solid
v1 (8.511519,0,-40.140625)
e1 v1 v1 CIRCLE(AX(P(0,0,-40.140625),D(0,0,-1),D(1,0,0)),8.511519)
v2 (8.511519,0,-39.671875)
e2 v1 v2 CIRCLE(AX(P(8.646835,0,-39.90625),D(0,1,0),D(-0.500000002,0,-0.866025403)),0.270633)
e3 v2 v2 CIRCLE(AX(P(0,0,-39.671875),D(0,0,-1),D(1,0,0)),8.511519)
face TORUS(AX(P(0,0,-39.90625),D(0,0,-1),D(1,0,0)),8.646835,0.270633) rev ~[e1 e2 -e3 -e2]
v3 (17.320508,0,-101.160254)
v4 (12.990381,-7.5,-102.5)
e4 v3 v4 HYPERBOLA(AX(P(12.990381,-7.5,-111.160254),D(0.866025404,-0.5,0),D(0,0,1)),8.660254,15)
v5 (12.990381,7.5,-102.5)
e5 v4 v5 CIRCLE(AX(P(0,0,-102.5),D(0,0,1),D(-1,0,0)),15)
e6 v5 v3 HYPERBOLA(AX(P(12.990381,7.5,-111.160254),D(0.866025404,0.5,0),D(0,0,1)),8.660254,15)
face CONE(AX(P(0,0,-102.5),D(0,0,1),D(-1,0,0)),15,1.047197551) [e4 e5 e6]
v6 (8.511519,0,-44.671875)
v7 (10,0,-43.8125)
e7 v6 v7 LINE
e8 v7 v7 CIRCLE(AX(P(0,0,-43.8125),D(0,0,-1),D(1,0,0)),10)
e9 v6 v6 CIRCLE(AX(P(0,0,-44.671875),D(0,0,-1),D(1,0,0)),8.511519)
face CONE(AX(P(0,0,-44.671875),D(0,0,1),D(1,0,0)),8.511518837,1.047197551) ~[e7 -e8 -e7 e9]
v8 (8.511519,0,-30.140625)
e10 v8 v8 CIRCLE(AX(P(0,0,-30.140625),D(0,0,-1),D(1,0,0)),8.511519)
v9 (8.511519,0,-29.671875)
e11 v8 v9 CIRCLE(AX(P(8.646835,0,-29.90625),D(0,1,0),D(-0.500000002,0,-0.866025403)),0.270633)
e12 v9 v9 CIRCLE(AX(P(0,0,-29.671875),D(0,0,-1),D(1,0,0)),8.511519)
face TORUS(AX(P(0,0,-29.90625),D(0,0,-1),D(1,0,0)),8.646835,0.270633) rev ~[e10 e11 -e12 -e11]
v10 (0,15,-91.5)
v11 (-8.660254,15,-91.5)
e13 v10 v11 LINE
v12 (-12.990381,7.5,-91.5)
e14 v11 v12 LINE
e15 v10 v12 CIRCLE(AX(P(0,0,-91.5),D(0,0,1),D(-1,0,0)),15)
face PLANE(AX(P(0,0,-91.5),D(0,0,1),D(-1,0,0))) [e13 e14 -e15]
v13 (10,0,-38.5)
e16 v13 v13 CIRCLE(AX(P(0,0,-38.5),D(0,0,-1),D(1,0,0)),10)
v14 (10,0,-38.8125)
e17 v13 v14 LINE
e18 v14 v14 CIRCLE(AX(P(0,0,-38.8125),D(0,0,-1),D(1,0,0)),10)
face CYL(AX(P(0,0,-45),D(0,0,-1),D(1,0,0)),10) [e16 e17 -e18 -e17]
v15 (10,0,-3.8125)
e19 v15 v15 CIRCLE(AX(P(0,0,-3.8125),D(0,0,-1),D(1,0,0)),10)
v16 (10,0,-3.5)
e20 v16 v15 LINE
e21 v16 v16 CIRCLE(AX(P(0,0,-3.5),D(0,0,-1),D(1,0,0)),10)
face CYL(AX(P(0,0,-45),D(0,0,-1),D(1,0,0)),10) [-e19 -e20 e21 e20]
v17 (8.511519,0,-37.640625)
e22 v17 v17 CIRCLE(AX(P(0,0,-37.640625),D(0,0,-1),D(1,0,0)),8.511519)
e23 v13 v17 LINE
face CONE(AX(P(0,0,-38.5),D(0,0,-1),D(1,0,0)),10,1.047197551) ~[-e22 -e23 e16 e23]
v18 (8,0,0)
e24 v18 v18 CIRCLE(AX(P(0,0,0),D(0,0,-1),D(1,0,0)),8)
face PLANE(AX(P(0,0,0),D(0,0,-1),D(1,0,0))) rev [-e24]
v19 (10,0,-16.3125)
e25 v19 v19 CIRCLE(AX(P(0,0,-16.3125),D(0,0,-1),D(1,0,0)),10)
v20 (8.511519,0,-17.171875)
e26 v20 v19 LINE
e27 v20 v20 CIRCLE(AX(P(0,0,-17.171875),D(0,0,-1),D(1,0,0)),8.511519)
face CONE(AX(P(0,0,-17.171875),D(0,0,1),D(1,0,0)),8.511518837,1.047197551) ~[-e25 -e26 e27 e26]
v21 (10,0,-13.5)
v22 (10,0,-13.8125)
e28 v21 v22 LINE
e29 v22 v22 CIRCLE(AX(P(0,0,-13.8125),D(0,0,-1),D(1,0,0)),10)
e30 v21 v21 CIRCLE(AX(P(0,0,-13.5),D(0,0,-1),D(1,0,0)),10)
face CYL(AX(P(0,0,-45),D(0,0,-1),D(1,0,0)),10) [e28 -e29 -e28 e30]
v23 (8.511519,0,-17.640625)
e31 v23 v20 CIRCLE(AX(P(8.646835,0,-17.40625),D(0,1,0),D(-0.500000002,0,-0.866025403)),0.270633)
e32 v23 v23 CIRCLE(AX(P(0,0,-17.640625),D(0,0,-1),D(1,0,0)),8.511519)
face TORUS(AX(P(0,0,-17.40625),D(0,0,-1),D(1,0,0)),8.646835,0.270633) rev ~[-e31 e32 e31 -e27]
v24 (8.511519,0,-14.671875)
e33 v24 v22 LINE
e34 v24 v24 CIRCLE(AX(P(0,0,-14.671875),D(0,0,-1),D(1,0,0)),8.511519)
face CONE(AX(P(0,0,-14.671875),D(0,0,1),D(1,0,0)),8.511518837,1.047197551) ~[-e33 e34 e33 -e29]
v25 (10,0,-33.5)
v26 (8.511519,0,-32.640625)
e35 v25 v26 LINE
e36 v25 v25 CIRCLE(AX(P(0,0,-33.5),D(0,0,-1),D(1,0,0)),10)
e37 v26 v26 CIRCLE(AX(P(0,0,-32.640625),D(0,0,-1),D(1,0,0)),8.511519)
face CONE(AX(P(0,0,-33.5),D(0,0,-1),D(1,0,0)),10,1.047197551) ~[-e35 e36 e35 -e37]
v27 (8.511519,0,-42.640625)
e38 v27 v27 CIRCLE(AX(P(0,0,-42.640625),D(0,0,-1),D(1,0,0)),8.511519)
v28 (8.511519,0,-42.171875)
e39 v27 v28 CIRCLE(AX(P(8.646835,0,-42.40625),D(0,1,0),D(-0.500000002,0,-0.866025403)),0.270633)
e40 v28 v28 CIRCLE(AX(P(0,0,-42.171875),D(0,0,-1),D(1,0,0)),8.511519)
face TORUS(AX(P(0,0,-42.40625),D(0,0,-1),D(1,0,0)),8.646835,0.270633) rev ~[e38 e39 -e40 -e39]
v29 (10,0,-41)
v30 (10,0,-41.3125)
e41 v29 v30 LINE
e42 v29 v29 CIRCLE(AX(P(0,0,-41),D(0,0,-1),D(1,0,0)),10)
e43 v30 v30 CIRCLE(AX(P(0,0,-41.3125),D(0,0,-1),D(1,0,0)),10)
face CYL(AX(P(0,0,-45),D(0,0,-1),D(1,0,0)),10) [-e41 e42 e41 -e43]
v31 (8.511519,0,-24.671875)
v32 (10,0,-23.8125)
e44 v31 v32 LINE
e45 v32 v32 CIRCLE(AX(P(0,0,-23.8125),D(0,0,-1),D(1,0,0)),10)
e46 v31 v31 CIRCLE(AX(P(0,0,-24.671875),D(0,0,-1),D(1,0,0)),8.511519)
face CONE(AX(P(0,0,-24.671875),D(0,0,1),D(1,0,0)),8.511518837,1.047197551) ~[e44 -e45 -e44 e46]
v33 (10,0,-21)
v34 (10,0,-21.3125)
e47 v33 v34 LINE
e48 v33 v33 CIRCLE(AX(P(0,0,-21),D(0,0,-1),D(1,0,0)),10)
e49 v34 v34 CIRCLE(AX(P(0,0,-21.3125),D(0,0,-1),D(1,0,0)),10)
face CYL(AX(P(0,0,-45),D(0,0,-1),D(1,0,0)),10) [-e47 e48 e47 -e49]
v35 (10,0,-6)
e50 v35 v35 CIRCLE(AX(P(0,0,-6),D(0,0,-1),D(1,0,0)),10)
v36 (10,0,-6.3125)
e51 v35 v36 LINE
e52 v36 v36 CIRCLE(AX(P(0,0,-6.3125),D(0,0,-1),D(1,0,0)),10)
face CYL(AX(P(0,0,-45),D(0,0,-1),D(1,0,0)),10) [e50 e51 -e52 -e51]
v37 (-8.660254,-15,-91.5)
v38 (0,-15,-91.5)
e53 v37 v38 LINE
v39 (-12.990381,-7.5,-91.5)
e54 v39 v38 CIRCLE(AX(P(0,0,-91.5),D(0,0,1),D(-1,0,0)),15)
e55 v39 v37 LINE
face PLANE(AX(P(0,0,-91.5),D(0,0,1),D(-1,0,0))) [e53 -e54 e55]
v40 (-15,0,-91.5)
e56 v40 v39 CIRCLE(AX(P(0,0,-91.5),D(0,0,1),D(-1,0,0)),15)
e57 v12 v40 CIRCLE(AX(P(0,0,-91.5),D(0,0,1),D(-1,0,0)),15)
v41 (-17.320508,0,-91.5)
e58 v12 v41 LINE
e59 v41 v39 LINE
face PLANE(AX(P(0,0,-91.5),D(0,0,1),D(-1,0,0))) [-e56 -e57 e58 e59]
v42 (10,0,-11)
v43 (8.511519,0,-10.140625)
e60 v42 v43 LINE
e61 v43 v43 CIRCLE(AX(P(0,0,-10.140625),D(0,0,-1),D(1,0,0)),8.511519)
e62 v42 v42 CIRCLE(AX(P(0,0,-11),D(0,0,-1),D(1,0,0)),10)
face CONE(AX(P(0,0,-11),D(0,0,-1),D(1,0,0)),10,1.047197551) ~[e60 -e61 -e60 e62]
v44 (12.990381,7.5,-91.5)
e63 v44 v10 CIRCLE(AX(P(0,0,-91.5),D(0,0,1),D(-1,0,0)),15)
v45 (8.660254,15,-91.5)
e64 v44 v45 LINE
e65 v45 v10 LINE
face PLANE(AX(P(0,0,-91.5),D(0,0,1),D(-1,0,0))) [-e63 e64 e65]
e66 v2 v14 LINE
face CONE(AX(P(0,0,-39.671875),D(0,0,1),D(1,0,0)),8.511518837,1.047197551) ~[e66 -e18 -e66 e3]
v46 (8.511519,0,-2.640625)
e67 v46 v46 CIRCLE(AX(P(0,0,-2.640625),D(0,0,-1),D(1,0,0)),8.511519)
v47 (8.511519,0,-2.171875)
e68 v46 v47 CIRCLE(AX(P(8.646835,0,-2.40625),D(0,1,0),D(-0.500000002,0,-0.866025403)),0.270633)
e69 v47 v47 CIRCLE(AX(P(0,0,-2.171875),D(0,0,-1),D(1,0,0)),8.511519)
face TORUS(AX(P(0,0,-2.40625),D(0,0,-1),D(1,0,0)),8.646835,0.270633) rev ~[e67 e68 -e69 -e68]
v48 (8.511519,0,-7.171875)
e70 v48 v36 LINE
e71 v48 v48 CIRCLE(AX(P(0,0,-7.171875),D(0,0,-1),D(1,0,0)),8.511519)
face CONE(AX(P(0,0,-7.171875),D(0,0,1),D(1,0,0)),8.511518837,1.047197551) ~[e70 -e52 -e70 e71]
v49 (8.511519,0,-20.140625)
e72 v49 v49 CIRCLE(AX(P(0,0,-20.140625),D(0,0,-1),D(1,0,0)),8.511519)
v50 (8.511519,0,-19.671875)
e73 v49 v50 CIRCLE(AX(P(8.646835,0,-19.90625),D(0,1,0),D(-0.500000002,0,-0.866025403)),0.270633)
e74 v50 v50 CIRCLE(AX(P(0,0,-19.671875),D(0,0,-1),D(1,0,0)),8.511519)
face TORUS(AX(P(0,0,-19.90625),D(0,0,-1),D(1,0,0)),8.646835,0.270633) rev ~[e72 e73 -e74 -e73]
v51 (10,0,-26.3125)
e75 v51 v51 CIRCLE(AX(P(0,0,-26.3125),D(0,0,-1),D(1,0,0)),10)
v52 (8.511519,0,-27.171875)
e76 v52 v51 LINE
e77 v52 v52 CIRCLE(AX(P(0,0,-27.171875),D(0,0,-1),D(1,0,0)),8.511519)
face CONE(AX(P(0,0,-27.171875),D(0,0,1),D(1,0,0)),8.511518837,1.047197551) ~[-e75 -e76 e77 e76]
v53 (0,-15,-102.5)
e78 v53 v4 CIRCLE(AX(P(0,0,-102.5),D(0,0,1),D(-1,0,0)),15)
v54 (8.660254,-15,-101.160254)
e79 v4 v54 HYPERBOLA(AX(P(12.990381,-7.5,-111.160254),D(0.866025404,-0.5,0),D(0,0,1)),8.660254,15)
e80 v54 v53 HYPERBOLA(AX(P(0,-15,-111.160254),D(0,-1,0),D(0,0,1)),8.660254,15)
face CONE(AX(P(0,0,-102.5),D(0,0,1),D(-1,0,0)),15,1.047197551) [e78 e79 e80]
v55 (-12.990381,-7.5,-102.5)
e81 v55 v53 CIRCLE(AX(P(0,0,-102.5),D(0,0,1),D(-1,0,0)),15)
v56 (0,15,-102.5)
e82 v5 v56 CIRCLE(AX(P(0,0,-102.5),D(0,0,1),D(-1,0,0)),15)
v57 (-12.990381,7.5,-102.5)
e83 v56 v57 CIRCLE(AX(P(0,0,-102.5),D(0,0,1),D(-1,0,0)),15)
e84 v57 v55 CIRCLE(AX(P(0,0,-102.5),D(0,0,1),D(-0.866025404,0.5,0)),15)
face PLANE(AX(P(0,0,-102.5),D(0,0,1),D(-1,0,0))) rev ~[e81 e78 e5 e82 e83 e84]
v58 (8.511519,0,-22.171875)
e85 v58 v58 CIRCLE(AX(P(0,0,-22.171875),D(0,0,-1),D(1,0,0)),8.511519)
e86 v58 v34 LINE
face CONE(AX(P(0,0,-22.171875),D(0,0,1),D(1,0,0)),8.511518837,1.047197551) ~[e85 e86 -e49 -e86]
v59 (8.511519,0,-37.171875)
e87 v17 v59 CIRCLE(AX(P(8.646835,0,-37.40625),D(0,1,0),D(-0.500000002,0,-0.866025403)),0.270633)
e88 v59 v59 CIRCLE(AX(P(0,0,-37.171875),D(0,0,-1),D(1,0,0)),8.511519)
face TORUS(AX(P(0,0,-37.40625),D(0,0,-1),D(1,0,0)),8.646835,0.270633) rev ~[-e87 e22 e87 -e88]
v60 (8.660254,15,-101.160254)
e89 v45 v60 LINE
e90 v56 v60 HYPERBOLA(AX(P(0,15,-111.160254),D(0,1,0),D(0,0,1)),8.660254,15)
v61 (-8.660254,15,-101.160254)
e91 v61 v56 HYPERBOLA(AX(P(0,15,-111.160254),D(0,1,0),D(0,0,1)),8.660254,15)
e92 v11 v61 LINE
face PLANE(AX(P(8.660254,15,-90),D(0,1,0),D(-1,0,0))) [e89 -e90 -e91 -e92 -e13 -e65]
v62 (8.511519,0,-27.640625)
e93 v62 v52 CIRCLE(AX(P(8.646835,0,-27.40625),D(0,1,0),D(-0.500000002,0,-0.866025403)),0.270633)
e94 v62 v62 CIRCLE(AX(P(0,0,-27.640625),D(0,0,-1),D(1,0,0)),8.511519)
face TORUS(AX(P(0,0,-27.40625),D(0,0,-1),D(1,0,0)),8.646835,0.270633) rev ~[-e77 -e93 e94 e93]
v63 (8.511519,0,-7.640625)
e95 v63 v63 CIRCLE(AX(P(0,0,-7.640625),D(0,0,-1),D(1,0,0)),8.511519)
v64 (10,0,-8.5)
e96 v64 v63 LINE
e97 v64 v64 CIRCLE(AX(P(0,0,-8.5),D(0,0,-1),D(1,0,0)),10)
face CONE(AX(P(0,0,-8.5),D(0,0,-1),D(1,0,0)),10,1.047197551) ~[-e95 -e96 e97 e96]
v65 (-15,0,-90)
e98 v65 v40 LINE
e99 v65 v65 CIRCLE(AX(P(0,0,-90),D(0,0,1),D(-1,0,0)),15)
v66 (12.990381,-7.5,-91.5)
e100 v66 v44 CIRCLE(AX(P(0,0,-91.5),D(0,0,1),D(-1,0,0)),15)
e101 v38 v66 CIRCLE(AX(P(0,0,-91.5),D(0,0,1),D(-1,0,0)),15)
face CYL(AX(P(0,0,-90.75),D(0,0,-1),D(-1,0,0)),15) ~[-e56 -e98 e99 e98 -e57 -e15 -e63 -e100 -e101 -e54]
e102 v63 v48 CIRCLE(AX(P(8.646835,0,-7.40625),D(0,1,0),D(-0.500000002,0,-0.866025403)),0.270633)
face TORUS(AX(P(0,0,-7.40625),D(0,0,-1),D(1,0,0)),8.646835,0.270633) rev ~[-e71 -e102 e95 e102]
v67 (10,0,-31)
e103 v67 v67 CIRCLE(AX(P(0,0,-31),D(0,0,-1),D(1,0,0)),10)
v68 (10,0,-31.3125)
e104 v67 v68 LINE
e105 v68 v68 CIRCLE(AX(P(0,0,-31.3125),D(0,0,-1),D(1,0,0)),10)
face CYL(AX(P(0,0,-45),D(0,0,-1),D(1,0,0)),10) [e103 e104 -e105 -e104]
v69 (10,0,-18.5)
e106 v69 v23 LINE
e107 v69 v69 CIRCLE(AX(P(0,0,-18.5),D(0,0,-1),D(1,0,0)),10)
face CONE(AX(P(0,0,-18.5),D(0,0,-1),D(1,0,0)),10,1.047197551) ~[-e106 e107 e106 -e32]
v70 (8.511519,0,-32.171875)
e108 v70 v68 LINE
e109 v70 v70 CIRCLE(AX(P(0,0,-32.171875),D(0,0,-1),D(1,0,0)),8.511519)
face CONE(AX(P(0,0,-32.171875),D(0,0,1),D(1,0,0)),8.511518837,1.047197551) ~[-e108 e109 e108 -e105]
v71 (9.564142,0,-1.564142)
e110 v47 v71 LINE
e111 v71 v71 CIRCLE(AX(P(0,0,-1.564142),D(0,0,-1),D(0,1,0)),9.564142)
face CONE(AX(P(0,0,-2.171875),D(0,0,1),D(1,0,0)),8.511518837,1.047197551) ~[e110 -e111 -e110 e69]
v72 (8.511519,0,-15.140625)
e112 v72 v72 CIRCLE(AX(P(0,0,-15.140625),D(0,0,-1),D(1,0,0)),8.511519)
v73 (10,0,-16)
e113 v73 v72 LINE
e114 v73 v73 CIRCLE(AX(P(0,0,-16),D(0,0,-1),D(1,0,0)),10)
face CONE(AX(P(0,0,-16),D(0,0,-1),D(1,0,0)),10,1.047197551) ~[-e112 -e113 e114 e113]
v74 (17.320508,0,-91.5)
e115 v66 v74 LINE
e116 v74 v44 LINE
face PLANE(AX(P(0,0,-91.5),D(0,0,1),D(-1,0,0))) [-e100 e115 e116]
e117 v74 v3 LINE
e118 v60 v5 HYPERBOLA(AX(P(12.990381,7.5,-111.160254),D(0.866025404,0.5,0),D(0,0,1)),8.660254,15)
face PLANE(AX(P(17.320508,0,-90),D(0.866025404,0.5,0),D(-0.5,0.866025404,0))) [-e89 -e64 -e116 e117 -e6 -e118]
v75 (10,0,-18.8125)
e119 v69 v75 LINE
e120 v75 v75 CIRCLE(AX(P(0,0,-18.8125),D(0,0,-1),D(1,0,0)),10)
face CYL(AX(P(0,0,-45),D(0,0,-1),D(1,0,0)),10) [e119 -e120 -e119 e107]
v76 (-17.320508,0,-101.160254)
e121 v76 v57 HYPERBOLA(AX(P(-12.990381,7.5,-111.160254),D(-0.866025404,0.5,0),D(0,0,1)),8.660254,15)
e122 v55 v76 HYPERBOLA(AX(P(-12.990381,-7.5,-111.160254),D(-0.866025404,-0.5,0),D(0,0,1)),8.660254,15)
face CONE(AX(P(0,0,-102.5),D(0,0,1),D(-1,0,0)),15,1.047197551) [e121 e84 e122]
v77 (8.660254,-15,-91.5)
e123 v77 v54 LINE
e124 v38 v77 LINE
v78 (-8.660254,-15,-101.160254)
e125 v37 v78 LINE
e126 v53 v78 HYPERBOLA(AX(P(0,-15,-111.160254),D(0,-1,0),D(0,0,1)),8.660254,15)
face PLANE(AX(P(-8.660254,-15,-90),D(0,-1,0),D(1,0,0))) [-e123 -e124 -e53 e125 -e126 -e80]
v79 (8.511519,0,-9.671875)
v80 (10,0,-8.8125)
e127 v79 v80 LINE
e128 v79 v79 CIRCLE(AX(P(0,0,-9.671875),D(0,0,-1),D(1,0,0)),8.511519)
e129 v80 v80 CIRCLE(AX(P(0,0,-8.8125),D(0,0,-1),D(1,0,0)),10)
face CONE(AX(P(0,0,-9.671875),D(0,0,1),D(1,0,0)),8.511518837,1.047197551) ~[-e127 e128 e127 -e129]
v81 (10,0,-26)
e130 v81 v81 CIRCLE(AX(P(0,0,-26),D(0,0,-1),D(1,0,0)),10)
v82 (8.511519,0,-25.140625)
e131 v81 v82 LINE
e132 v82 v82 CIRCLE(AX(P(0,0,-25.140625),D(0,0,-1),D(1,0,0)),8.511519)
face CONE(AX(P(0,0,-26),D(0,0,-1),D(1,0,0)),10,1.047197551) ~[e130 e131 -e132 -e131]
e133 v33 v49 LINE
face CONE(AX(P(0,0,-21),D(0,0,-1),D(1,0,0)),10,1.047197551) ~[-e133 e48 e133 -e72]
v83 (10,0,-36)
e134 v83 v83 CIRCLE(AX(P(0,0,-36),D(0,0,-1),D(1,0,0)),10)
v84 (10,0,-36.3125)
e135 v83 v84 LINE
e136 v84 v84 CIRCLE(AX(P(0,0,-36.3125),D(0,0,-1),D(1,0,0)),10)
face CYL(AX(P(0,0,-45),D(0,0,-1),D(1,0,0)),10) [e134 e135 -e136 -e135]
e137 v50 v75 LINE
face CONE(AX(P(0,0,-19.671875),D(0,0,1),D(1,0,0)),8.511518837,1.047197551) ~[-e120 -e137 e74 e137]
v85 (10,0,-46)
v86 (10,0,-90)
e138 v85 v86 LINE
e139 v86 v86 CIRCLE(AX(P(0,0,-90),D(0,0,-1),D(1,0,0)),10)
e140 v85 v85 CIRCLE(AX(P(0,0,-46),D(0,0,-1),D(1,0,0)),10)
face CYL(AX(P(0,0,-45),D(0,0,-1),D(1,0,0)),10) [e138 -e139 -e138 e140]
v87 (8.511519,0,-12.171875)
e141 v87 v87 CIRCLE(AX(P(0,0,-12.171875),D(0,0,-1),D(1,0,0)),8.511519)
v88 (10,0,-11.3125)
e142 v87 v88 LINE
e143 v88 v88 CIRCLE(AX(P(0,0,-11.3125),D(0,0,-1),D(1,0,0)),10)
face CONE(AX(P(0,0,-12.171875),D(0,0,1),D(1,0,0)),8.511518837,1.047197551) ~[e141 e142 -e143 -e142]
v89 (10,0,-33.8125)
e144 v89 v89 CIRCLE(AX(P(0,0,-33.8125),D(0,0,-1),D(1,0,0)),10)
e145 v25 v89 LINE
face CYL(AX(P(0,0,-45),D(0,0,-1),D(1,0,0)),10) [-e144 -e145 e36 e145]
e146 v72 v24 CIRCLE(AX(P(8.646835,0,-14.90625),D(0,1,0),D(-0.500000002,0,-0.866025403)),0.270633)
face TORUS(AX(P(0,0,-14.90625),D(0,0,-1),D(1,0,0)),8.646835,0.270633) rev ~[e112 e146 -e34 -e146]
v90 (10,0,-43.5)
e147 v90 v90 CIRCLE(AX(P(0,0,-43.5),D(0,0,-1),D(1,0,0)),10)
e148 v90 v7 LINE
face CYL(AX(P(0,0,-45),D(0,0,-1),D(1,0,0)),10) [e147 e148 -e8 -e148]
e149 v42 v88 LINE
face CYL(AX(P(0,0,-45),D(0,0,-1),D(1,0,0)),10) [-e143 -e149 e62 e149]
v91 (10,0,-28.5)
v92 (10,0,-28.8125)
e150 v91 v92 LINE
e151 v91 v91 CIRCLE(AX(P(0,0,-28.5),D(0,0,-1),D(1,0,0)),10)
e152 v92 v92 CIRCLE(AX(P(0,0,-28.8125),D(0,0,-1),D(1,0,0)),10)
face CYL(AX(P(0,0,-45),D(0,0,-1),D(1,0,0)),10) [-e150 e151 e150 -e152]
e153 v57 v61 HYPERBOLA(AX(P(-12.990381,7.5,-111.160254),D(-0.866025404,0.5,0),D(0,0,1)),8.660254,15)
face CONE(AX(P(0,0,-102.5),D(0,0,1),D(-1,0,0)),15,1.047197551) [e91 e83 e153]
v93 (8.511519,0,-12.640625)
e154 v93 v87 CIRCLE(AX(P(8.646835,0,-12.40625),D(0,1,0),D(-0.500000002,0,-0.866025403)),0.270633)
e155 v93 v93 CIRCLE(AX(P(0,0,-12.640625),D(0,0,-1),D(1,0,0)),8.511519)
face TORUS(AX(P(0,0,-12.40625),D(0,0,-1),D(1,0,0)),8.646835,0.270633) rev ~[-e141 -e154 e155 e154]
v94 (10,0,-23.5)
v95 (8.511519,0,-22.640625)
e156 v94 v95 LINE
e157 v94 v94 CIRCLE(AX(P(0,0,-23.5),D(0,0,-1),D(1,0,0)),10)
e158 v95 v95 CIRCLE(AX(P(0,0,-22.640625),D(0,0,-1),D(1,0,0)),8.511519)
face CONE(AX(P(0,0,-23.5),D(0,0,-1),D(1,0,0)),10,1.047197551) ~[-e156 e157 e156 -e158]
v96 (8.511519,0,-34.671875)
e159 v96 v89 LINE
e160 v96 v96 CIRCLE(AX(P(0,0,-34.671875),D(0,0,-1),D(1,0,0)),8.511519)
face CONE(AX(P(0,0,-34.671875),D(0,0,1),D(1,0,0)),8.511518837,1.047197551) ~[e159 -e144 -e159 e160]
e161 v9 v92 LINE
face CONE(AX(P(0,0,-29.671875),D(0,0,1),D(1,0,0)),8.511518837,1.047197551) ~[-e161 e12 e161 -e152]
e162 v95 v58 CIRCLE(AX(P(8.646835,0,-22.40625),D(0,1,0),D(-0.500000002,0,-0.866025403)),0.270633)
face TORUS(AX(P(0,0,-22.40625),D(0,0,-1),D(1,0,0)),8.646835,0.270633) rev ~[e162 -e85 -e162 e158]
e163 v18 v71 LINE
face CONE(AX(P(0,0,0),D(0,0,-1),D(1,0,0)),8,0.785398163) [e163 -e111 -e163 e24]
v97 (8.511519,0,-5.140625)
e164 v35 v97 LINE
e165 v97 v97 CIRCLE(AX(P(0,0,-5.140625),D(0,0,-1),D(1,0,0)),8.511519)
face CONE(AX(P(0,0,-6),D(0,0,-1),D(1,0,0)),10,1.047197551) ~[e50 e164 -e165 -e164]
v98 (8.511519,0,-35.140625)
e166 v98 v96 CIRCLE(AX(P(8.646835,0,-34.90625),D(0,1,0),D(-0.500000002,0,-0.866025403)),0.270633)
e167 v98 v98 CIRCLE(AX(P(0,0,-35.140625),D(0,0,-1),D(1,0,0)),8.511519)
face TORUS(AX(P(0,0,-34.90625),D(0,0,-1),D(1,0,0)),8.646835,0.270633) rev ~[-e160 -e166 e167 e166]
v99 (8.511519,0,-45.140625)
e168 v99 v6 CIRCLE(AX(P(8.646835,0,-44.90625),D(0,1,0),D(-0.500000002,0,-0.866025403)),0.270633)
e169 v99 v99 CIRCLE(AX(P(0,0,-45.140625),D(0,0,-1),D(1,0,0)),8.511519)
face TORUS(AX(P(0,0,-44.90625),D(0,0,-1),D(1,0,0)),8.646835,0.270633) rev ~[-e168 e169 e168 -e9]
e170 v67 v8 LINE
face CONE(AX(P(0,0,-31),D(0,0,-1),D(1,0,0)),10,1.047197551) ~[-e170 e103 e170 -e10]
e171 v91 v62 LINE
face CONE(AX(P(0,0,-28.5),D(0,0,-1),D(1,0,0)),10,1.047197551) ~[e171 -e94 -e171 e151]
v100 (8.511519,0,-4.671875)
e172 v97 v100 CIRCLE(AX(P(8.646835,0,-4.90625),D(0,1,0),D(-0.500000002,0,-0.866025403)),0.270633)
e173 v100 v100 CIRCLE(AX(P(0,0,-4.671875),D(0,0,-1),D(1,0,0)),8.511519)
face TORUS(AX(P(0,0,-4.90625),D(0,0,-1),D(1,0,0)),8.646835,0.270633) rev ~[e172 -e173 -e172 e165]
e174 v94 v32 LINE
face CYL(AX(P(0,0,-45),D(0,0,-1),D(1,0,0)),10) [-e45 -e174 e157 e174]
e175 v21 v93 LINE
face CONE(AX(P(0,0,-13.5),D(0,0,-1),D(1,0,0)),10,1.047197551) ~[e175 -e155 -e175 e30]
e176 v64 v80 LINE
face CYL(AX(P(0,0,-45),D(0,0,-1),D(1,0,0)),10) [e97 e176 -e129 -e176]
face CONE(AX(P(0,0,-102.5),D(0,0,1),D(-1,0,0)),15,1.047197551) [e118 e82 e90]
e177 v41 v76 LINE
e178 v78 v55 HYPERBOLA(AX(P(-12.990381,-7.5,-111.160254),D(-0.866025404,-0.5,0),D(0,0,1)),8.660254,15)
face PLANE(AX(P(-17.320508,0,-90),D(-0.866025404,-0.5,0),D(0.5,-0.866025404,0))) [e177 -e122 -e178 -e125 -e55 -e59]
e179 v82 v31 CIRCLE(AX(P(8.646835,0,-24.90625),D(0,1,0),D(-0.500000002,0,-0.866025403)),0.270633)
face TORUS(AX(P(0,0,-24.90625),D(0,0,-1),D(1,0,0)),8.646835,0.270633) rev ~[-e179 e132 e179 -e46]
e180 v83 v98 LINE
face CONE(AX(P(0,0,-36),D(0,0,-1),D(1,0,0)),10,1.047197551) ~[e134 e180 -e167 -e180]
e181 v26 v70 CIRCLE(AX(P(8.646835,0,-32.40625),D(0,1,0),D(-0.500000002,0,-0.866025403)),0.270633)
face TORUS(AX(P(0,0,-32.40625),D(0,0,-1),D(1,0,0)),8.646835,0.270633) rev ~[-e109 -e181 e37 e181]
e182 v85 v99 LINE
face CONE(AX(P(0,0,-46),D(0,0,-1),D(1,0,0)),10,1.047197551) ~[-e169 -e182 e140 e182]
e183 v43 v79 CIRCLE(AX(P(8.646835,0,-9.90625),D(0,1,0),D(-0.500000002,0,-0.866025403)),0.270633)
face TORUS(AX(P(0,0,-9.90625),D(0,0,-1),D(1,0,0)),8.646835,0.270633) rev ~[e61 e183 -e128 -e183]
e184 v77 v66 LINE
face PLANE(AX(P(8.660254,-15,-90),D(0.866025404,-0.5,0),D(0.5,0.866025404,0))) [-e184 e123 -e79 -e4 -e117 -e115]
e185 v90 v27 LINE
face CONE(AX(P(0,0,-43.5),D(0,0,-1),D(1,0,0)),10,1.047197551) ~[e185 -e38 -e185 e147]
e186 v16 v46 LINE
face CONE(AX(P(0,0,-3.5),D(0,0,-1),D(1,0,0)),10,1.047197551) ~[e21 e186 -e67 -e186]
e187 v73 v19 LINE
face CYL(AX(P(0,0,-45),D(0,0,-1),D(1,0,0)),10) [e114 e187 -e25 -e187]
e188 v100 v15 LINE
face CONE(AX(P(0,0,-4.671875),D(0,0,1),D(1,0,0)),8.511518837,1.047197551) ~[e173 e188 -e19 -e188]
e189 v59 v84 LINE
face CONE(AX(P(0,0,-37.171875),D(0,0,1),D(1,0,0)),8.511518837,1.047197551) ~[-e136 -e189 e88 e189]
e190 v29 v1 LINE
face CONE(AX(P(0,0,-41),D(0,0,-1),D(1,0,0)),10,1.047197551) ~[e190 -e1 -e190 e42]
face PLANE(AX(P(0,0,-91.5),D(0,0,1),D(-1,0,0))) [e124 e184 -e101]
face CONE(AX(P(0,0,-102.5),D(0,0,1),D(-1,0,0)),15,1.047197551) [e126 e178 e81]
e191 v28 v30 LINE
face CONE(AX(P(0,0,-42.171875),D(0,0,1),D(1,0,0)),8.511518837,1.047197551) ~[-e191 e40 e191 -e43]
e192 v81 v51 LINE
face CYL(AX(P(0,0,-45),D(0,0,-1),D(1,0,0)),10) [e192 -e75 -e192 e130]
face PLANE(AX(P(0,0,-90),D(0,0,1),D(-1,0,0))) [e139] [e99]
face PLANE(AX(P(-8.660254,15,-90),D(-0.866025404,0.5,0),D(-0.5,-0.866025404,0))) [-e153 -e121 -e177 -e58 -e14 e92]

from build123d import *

# Parameters (mm, degrees)
SKETCH5_W               = 90
SKETCH5_H               = 10
THREAD_SIMPLE_COUNT     = 18
THREAD_SIMPLE_PITCH     = 2.5
SKETCH15_W              = 12.5
SKETCH15_H              = 20
SKETCH19_W              = 1.5
SKETCH19_H              = 5
SKETCH21_OUTSIDE_W      = 65.414
SKETCH21_OUTSIDE_H      = 65.414
CUT_PROFILE_OUTER_DEPTH = 95.339811321


with BuildPart() as part:
    # Sketch5 → body (revolve)
    with BuildSketch(Plane(origin=(0, 0, 0), x_dir=(0, 0, -1), z_dir=(1, 0, 0)), mode=Mode.PRIVATE) as body_sk:
        with Locations((45, 5)):
            Rectangle(SKETCH5_W, SKETCH5_H)
    revolve(body_sk.sketch.rotate(Axis((0, 0, 0), (0, 0, -1)), 90), axis=Axis((0, 0, 0), (0, 0, -1)))

    # Sketch11 → cut-chamfer-start (revolve, cut)
    with BuildSketch(Plane(origin=(0, 0, 0), x_dir=(0, 0, -1), z_dir=(1, 0, 0)), mode=Mode.PRIVATE) as cut_chamfer_start_sk:
        Polygon((0, -10), (0, -8), (2, -10), align=None)
    revolve(cut_chamfer_start_sk.sketch.rotate(Axis((0, 0, 0), (0, 0, -1)), 270), axis=Axis((0, 0, 0), (0, 0, -1)), mode=Mode.SUBTRACT)

    # Sketch8 → thread-single (revolve, cut)
    with BuildSketch(Plane(origin=(0, 0, 0), x_dir=(0, 0, -1), z_dir=(1, 0, 0)), mode=Mode.PRIVATE) as thread_single_sk:
        with BuildLine():
            Line((43.8125, -10), (46, -10))
            Line((46, -10), (45.140625, -8.511518837))
            ThreePointArc((45.140625, -8.511518837), (44.90625, -8.376202368), (44.671875, -8.511518837))
            Line((44.671875, -8.511518837), (43.8125, -10))
        make_face()
    thread_single = revolve(thread_single_sk.sketch.rotate(Axis((0, 0, 0), (0, 0, -1)), 270), axis=Axis((0, 0, 0), (0, 0, -1)), mode=Mode.SUBTRACT)

    # thread-simple: thread-single ×18
    with Locations(*[(0, 0, i * THREAD_SIMPLE_PITCH) for i in range(1, THREAD_SIMPLE_COUNT)]):
        add(thread_single, mode=Mode.SUBTRACT)

    # Sketch15 → body-head (revolve)
    with BuildSketch(Plane(origin=(0, 0, 0), x_dir=(0, 0, -1), z_dir=(1, 0, 0)), mode=Mode.PRIVATE) as body_head_sk:
        with Locations((96.25, -10)):
            Rectangle(SKETCH15_W, SKETCH15_H)
    revolve(body_head_sk.sketch.rotate(Axis((0, 0, -102.5), (0, 0, 1)), 270), axis=Axis((0, 0, -102.5), (0, 0, 1)))

    # Sketch19 → cut-head-profile (revolve, cut)
    with BuildSketch(Plane(origin=(0, 0, 0), x_dir=(0, 0, -1), z_dir=(1, 0, 0)), mode=Mode.PRIVATE) as cut_head_profile_sk:
        with Locations((90.75, -17.5)):
            Rectangle(SKETCH19_W, SKETCH19_H)
        Polygon((102.5, -20), (102.5, -15), (99.613248654, -20), align=None)
    revolve(cut_head_profile_sk.sketch.rotate(Axis((0, 0, -102.5), (0, 0, 1)), 270), axis=Axis((0, 0, -102.5), (0, 0, 1)), mode=Mode.SUBTRACT)

    # Sketch21 outside → cut-profile-outer (cut, through all)
    with BuildSketch(Plane.XY.offset(-90)):
        Rectangle(SKETCH21_OUTSIDE_W, SKETCH21_OUTSIDE_H)
        Polygon((17.320508076, 0), (8.660254038, 15), (-8.660254038, 15), (-17.320508076, 0), (-8.660254038, -15), (8.660254038, -15), align=None, mode=Mode.SUBTRACT)
    extrude(amount=-CUT_PROFILE_OUTER_DEPTH, mode=Mode.SUBTRACT)


solid = part.part
